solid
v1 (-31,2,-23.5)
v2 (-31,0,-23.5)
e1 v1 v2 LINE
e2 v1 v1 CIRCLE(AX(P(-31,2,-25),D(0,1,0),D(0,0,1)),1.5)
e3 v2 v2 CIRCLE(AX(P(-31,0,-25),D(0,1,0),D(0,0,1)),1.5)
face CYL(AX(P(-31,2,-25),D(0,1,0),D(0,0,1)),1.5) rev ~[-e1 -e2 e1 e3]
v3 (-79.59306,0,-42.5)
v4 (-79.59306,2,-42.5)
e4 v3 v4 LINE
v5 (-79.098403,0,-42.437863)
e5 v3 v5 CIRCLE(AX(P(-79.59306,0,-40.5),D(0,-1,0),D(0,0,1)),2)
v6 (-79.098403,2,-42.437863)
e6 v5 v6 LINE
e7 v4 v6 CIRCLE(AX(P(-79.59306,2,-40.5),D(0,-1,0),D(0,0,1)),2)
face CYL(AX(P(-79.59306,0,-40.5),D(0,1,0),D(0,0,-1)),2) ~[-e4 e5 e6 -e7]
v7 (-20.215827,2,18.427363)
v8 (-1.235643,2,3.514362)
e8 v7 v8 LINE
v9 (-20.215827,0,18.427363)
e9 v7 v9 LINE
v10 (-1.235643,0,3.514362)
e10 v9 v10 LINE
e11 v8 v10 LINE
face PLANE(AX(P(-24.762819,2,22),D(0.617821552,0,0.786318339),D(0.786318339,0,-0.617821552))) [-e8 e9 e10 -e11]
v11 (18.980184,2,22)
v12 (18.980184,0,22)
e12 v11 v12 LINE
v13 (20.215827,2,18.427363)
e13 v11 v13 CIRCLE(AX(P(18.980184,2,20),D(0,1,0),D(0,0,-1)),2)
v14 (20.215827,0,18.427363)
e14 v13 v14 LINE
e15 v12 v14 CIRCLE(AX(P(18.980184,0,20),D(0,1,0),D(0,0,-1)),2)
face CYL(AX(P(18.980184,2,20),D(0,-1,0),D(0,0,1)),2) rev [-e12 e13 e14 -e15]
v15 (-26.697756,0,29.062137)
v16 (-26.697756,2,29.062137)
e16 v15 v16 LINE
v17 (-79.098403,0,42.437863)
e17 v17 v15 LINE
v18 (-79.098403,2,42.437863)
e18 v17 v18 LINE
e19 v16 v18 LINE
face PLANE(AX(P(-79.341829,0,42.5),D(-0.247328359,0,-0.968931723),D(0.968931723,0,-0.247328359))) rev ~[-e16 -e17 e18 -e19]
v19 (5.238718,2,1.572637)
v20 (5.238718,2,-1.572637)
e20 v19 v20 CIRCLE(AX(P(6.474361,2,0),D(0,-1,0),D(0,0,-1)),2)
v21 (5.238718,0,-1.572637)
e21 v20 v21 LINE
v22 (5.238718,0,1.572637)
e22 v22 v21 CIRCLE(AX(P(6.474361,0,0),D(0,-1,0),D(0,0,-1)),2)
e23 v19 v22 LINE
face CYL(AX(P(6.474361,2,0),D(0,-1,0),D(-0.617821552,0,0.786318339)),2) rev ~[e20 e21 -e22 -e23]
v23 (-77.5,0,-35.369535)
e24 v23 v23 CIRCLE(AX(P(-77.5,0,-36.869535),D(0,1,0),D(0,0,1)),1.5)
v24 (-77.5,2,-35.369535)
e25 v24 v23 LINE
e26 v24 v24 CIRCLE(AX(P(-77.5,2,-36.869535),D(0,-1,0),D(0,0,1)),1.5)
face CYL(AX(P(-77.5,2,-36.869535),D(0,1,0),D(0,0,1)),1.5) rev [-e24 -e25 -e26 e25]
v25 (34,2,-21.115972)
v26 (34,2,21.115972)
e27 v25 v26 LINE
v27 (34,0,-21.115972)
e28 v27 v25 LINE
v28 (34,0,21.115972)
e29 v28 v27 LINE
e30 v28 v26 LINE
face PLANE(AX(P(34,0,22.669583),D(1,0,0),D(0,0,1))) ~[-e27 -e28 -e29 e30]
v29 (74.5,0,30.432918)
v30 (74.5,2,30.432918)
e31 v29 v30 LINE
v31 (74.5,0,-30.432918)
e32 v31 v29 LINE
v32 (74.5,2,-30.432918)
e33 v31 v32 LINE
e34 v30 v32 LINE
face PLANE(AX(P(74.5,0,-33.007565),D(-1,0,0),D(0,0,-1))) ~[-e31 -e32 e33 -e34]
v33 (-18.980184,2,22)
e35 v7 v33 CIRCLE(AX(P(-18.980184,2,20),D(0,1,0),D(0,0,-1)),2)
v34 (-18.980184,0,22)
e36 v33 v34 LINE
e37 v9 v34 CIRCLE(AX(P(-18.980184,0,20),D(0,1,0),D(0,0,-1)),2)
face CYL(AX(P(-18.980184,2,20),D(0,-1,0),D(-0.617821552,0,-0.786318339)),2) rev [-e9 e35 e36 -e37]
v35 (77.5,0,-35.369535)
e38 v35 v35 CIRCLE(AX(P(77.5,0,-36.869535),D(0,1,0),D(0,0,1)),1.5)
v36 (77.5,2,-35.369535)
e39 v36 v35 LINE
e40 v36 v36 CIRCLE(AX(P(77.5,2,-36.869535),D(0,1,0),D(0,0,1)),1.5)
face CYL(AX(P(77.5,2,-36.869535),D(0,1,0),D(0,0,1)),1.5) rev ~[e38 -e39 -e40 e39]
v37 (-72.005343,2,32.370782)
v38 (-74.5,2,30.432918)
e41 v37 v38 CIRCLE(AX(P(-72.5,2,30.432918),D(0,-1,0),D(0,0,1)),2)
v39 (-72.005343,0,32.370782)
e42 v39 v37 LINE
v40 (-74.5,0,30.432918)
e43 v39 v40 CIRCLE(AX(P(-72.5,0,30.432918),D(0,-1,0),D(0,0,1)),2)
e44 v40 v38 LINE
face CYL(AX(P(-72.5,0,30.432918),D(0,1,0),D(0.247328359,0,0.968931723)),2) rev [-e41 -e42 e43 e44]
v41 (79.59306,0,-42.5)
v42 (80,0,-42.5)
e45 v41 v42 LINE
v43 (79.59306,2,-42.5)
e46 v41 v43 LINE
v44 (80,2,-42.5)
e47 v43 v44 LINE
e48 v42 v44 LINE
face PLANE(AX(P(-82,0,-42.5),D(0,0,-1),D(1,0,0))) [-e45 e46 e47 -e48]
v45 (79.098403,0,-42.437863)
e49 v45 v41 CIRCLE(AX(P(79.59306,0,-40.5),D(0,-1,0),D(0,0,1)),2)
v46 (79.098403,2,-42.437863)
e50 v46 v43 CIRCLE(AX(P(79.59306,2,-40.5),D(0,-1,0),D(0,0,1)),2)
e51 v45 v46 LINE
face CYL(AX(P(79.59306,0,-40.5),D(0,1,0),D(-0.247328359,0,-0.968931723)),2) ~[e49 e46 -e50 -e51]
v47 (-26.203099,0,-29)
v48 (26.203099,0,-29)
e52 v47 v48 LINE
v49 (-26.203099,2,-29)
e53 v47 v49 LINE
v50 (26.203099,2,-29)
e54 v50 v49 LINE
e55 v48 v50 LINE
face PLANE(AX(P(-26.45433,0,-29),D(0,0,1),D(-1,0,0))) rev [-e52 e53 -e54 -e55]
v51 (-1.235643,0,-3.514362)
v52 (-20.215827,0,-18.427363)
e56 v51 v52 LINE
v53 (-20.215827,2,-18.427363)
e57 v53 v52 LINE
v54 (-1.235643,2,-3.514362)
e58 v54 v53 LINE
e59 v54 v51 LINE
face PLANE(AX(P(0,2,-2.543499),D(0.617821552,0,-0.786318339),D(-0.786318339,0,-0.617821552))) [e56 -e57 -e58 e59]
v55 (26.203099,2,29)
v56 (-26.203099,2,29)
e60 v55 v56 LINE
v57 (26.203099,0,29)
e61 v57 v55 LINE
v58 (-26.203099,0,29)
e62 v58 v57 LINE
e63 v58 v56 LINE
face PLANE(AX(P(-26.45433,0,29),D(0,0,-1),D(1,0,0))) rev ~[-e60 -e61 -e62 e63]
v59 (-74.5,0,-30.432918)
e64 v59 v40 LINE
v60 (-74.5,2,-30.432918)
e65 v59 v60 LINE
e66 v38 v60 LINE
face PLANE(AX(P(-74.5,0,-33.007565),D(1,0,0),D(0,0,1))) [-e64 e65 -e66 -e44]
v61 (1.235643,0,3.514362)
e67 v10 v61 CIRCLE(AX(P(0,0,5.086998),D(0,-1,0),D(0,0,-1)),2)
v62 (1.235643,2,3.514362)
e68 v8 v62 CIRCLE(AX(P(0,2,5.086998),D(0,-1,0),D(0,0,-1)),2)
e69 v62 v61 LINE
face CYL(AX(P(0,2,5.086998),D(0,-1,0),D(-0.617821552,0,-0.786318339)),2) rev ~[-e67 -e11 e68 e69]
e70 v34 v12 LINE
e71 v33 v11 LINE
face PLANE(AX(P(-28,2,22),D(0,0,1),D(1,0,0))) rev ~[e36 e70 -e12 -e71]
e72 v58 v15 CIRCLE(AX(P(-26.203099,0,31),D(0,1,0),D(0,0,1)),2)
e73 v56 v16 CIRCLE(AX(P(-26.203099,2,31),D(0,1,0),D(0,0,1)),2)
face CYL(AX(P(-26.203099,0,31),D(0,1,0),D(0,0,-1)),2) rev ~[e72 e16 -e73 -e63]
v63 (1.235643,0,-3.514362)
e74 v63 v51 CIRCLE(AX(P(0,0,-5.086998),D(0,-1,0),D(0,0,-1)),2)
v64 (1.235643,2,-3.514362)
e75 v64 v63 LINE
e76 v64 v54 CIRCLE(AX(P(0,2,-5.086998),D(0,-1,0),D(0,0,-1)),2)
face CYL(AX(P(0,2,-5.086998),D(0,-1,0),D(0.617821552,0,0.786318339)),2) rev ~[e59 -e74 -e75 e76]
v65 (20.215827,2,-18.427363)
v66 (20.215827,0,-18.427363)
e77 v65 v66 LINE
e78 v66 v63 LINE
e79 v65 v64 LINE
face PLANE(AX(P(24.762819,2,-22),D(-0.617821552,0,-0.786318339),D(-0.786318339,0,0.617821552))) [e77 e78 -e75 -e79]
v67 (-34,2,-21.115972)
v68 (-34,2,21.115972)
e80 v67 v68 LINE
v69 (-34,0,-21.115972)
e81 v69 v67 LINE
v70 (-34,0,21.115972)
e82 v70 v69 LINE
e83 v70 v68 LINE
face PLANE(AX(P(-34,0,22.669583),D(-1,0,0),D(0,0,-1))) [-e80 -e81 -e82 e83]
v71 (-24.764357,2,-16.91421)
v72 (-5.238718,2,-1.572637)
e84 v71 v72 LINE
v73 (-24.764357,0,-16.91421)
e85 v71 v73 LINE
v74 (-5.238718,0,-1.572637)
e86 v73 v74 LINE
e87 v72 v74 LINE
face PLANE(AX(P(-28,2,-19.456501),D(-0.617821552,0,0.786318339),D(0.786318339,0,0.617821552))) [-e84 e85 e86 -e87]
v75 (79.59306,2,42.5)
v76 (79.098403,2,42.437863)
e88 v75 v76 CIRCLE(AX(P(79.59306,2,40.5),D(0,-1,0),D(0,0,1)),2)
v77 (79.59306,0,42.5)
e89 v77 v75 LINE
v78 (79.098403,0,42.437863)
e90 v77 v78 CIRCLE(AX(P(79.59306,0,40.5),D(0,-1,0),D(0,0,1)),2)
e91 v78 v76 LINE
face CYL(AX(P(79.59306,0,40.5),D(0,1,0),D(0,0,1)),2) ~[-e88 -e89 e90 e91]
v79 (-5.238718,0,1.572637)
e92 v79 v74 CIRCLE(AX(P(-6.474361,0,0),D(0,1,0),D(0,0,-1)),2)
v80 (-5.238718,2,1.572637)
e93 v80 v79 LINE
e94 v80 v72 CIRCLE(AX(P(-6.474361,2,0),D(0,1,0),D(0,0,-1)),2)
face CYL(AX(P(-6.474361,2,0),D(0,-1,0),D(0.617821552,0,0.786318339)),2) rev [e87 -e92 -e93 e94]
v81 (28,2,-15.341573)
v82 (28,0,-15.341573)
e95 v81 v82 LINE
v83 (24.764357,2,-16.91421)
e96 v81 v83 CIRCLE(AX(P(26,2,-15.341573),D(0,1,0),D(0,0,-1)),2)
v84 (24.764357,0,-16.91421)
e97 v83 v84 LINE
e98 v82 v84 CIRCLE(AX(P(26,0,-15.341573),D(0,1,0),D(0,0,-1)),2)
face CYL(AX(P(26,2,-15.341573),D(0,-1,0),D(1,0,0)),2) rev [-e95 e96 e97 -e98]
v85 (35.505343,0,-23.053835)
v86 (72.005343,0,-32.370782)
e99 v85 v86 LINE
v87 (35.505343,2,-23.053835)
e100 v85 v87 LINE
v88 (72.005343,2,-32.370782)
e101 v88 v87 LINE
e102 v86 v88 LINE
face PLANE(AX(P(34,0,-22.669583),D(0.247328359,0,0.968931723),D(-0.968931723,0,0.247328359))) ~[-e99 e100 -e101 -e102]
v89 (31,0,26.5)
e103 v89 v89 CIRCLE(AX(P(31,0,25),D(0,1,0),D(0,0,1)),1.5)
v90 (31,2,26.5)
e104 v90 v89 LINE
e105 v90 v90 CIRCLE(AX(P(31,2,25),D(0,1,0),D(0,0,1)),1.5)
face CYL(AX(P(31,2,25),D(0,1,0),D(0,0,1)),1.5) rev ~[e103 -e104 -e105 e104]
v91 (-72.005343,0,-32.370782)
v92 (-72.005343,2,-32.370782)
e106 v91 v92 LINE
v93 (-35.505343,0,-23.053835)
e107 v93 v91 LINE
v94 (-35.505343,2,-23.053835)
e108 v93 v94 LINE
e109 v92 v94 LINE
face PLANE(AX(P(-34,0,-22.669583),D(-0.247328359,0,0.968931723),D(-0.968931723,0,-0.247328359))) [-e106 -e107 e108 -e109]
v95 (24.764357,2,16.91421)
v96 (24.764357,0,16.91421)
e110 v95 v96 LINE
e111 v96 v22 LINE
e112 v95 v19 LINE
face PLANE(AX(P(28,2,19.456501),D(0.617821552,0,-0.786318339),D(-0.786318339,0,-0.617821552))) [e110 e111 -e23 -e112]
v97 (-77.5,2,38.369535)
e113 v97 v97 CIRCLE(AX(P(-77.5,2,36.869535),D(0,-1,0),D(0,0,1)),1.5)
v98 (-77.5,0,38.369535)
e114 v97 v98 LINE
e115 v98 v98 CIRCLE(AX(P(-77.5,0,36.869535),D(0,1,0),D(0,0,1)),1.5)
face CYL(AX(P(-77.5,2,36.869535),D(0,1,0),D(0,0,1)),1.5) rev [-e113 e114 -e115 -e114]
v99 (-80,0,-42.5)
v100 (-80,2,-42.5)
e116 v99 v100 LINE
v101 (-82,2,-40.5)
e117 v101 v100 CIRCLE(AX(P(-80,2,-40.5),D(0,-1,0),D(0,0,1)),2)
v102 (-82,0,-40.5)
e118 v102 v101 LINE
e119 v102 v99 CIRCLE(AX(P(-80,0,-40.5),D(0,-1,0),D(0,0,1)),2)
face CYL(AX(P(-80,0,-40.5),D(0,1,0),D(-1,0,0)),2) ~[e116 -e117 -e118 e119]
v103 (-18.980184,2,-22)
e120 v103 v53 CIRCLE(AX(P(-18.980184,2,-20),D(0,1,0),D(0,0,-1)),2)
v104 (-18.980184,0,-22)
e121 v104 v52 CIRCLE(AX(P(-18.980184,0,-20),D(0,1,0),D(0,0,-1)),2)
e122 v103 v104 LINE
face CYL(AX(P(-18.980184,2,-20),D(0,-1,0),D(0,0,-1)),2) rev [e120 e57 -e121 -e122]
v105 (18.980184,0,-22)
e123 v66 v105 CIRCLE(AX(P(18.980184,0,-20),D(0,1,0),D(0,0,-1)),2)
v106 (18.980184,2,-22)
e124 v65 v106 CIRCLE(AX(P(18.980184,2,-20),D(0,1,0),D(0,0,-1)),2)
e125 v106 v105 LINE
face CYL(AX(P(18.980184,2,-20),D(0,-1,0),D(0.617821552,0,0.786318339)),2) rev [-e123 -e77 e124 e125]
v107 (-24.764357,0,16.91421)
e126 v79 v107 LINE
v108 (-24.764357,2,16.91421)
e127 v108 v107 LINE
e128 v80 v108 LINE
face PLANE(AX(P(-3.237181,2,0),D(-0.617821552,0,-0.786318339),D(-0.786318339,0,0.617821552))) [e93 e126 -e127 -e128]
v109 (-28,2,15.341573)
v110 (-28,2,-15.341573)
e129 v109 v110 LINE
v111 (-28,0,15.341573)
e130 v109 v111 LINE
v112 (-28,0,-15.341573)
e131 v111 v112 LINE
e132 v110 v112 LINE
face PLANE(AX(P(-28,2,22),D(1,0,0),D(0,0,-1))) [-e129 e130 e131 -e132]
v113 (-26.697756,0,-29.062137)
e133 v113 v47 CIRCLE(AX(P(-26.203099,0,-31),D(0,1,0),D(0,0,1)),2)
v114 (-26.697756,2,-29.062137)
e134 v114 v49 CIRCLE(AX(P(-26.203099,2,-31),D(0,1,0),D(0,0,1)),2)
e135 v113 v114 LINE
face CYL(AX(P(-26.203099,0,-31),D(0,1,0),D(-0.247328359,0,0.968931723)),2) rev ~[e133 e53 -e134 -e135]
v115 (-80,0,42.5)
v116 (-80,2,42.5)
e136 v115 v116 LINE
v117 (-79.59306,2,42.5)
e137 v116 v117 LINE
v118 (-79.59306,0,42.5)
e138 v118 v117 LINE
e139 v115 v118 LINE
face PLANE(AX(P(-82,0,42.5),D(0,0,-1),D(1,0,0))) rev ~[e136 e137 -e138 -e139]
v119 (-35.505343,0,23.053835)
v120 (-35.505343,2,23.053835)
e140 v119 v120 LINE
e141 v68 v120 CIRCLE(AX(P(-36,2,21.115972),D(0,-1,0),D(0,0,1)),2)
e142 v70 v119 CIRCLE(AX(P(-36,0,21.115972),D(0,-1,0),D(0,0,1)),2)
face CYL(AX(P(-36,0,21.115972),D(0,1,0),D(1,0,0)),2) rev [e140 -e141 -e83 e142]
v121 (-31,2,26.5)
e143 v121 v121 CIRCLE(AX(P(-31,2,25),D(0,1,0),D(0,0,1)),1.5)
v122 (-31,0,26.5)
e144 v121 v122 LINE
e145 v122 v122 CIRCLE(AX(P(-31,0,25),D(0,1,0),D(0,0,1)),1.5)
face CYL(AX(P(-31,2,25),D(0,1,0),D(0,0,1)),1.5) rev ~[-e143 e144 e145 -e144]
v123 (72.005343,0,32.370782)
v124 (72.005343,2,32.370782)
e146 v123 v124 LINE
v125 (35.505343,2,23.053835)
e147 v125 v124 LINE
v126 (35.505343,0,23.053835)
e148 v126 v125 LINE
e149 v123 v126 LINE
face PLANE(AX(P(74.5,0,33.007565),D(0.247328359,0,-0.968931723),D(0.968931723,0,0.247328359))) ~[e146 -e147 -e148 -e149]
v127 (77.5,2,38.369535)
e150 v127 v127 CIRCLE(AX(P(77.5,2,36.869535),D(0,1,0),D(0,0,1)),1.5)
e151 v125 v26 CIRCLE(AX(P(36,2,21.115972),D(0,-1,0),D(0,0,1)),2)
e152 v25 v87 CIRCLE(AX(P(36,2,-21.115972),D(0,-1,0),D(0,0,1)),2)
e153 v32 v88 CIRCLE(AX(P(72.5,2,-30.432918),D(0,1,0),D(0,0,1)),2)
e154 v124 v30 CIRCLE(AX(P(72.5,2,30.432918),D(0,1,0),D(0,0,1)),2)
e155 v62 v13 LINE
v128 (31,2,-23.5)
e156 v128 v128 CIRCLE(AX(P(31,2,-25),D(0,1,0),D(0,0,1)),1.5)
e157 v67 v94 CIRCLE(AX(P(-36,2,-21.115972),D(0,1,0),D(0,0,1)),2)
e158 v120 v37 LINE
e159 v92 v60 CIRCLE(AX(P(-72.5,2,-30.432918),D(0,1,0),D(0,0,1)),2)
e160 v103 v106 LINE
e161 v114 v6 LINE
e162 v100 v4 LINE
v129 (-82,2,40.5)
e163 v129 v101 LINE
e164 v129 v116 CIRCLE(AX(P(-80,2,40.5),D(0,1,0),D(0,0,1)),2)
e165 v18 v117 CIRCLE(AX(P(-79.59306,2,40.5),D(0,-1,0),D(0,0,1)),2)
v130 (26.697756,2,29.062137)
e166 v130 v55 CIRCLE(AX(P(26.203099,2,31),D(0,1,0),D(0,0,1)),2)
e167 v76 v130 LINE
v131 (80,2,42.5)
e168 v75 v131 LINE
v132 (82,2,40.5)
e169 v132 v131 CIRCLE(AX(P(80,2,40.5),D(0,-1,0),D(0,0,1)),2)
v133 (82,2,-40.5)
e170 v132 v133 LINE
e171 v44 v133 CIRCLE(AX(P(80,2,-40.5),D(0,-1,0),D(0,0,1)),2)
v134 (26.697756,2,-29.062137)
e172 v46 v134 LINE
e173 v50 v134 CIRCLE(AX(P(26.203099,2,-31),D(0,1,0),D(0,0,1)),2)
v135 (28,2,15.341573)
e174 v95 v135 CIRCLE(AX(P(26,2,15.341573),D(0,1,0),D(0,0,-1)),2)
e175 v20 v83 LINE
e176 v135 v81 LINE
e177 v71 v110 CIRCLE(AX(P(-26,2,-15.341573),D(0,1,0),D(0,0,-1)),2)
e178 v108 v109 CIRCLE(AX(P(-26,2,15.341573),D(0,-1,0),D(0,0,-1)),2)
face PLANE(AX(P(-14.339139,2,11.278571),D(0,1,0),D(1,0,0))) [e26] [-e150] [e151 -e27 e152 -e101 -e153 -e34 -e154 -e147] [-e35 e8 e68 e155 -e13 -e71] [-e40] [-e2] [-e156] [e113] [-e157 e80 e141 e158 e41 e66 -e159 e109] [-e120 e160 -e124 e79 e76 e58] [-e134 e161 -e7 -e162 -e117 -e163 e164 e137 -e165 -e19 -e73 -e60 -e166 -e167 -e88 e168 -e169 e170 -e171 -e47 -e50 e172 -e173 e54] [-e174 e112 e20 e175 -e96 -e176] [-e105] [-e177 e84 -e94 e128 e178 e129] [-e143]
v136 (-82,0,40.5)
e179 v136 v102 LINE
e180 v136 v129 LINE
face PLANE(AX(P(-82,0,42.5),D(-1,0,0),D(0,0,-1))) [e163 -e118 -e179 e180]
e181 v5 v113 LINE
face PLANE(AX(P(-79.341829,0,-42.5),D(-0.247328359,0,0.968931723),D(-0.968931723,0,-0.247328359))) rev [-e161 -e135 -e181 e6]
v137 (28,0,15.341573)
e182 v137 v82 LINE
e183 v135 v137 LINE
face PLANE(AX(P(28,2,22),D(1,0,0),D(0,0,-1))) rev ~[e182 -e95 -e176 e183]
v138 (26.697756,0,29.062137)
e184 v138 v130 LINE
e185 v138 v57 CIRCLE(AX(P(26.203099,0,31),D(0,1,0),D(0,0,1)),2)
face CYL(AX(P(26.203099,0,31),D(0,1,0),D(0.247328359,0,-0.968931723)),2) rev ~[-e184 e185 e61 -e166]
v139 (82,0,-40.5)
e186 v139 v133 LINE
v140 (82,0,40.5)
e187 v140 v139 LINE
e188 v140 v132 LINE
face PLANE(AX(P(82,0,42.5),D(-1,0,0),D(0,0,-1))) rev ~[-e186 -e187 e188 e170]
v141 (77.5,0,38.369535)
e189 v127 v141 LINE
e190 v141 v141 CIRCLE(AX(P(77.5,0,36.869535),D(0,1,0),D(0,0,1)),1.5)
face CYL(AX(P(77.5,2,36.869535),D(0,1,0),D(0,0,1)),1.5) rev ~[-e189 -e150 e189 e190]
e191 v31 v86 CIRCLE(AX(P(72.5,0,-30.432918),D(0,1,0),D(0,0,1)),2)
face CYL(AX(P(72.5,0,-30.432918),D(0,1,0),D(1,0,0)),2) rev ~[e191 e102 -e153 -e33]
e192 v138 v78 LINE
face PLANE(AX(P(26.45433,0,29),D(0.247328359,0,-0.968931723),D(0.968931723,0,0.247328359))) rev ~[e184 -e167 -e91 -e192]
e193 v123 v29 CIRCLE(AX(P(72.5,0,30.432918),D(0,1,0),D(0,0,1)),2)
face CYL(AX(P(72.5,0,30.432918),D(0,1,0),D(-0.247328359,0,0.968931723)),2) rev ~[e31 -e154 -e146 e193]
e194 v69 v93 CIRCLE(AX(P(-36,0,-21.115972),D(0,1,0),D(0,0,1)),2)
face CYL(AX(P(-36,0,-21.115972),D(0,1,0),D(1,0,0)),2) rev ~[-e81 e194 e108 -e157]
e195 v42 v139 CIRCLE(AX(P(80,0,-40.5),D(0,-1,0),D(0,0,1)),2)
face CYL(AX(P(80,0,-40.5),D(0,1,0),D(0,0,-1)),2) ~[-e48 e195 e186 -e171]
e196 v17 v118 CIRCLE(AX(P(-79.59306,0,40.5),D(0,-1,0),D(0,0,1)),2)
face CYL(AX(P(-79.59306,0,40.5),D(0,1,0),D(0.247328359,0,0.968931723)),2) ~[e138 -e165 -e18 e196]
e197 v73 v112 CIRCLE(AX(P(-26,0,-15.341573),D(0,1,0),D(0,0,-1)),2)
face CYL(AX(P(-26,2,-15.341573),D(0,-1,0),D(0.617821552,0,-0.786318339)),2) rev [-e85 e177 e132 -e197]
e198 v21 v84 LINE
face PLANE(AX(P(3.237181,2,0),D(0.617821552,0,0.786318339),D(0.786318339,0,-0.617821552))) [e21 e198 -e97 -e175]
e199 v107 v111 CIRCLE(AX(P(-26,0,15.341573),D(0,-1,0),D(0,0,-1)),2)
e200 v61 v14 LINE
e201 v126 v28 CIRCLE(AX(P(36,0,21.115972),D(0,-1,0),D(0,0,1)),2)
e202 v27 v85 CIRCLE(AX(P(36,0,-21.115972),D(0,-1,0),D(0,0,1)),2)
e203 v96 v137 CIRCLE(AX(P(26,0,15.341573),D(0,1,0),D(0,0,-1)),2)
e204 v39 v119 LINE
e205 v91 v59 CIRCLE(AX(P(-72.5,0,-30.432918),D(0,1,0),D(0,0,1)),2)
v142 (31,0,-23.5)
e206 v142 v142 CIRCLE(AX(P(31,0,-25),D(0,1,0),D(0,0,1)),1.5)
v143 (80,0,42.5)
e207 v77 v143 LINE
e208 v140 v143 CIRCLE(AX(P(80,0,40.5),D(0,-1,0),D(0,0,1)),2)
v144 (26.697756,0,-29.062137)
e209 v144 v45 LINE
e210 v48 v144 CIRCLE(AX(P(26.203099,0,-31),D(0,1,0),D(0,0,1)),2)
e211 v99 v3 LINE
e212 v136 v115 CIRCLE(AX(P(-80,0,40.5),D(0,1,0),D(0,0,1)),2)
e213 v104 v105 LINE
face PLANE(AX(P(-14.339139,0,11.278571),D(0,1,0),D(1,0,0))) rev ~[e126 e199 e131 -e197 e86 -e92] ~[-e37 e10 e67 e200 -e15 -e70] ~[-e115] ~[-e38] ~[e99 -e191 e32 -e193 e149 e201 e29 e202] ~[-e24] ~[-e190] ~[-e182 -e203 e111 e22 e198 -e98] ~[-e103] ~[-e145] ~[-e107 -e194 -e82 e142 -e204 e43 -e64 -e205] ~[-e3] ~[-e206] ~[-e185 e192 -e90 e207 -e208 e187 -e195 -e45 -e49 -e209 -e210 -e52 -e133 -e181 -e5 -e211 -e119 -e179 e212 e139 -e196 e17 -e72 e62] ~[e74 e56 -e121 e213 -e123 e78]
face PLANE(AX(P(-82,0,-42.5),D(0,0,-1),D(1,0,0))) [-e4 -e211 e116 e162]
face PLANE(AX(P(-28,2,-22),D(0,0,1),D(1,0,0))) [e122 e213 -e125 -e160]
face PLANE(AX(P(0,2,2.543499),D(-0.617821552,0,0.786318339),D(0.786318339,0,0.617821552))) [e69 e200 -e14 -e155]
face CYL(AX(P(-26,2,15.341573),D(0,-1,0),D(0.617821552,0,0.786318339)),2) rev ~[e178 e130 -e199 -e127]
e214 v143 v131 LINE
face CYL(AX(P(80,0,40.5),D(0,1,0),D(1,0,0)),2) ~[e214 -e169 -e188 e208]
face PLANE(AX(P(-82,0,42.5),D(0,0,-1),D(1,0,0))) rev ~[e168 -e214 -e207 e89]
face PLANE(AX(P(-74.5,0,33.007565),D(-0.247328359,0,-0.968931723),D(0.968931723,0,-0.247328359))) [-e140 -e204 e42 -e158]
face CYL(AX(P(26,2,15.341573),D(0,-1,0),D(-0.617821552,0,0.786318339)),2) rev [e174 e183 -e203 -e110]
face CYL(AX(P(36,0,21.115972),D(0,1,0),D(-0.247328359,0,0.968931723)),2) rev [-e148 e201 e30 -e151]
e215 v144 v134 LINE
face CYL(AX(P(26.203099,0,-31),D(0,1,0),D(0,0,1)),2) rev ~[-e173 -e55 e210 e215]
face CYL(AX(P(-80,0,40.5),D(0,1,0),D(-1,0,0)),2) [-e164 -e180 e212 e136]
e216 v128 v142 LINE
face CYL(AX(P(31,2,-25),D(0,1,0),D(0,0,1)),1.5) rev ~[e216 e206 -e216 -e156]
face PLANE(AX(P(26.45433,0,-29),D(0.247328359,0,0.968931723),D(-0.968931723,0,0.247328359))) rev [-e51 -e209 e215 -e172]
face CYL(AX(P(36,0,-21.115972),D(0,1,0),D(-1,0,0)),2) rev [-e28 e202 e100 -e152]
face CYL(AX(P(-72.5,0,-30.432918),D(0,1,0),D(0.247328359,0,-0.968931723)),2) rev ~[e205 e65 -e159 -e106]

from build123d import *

# Parameters (mm, degrees)
SKETCH_1_W          = 164
SKETCH_1_H          = 85
EXTRUDE_1_DEPTH     = 2
SKETCH_2_R          = 1.5
CUT_EXTRUDE_1_DEPTH = 2
SKETCH_4_W          = 56
SKETCH_4_H          = 44
CUT_EXTRUDE_3_DEPTH = 10
EXTRUDE_2_DEPTH     = 2
SKETCH_9_R          = 1.5
CUT_EXTRUDE_6_DEPTH = 10
CUT_EXTRUDE_7_DEPTH = 10
CUT_EXTRUDE_8_DEPTH = 10
FILLET_3_R          = 2
FILLET_4_R          = 2


with BuildPart() as part:
    # 草图1 → 凸台-拉伸1 (new body)
    with BuildSketch(Plane(origin=(0, 0, 0), x_dir=(1, 0, 0), z_dir=(0, 1, 0))):
        Rectangle(SKETCH_1_W, SKETCH_1_H)
    extrude(amount=EXTRUDE_1_DEPTH)

    # 草图2 → 切除-拉伸1 (cut)
    with BuildSketch(Plane(origin=(0, 2, 0), x_dir=(1, 0, 0), z_dir=(0, 1, 0))):
        with Locations(Location((31, 25, 0), (0, 0, 270))):
            Circle(SKETCH_2_R)
        with Locations(Location((-31, 25, 0), (0, 0, 270))):
            Circle(SKETCH_2_R)
        with Locations(Location((-31, -25, 0), (0, 0, 270))):
            Circle(SKETCH_2_R)
        with Locations(Location((31, -25, 0), (0, 0, 270))):
            Circle(SKETCH_2_R)
    extrude(amount=-CUT_EXTRUDE_1_DEPTH, mode=Mode.SUBTRACT)

    # 草图4 → 切除-拉伸3 (cut)
    with BuildSketch(Plane(origin=(0, 2, 0), x_dir=(1, 0, 0), z_dir=(0, 1, 0))):
        Rectangle(SKETCH_4_W, SKETCH_4_H)
    extrude(amount=-CUT_EXTRUDE_3_DEPTH, mode=Mode.SUBTRACT)

    # 草图7 → 凸台-拉伸2 (add)
    with BuildSketch(Plane(origin=(0, 2, 0), x_dir=(1, 0, 0), z_dir=(0, 1, 0))):
        Polygon((0, -2.543499116), (-3.237180694, 0), (-28, -19.456500884), (-28, -22), (-24.762819306, -22), align=None)
        Polygon((0, 2.543499116), (-3.237180694, 0), (0, -2.543499116), (3.237180694, 0), align=None)
        Polygon((24.762819306, 22), (0, 2.543499116), (3.237180694, 0), (28, 19.456500884), (28, 22), align=None)
        Polygon((3.237180694, 0), (0, -2.543499116), (24.762819306, -22), (28, -22), (28, -19.456500884), align=None)
        Polygon((-28, 22), (-28, 19.456500884), (-3.237180694, 0), (0, 2.543499116), (-24.762819306, 22), align=None)
    extrude(amount=-EXTRUDE_2_DEPTH)

    # 草图9 → 切除-拉伸6 (cut)
    with BuildSketch(Plane(origin=(0, 2, 0), x_dir=(1, 0, 0), z_dir=(0, 1, 0))):
        with Locations(Location((77.5, -36.869534675, 0), (0, 0, 270))):
            Circle(SKETCH_9_R)
        with Locations(Location((77.5, 36.869534675, 0), (0, 0, 270))):
            Circle(SKETCH_9_R)
    cut_extrude_6 = extrude(amount=-CUT_EXTRUDE_6_DEPTH, mode=Mode.SUBTRACT)

    # 镜向3: 切除-拉伸6 across plane
    add(cut_extrude_6.mirror(Plane(origin=(0, 0, 0), x_dir=(0, 0, 1), z_dir=(1, 0, 0))), mode=Mode.SUBTRACT)

    # 草图11 → 切除-拉伸7 (cut)
    with BuildSketch(Plane.XZ):
        Polygon((-74.5, 33.007564849), (-34, 22.669583035), (-34, -22.669583035), (-74.5, -33.007564849), align=None)
    cut_extrude_7 = extrude(amount=-CUT_EXTRUDE_7_DEPTH, mode=Mode.SUBTRACT)

    # 镜向4: 切除-拉伸7 across plane
    add(cut_extrude_7.mirror(Plane(origin=(0, 0, 0), x_dir=(0, 0, 1), z_dir=(1, 0, 0))), mode=Mode.SUBTRACT)

    # 草图12 → 切除-拉伸8 (cut)
    with BuildSketch(Plane.XZ):
        Polygon((-79.341828688, 42.5), (-26.454329961, 29), (26.454329961, 29), (79.341828688, 42.5), align=None)
    cut_extrude_8 = extrude(amount=-CUT_EXTRUDE_8_DEPTH, mode=Mode.SUBTRACT)

    # 镜向5: 切除-拉伸8 across plane
    add(cut_extrude_8.mirror(Plane.XY), mode=Mode.SUBTRACT)

    # 圆角3
    fillet_3_edges = [part.edges().sort_by_distance(p)[0] for p in [
        (-74.5, 1, -33.007564849),
        (-74.5, 1, 33.007564849),
        (-34, 1, 22.669583035),
        (-34, 1, -22.669583035),
        (74.5, 1, 33.007564849),
        (74.5, 1, -33.007564849),
        (34, 1, -22.669583035),
        (34, 1, 22.669583035),
        (-28, 1, 19.456500884),
        (-3.237180694, 1, 0),
        (-28, 1, -19.456500884),
        (-24.762819306, 1, -22),
        (0, 1, -2.543499116),
        (24.762819306, 1, -22),
        (28, 1, -19.456500884),
        (3.237180694, 1, 0),
        (28, 1, 19.456500884),
        (24.762819306, 1, 22),
        (0, 1, 2.543499116),
        (-24.762819306, 1, 22),
    ]]
    fillet(fillet_3_edges, radius=FILLET_3_R)

    # 圆角4
    fillet_4_edges = [part.edges().sort_by_distance(p)[0] for p in [
        (-79.341828688, 1, 42.5),
        (79.341828688, 1, 42.5),
        (26.454329961, 1, 29),
        (-26.454329961, 1, 29),
        (79.341828688, 1, -42.5),
        (-79.341828688, 1, -42.5),
        (-26.454329961, 1, -29),
        (26.454329961, 1, -29),
        (82, 1, 42.5),
        (-82, 1, 42.5),
        (-82, 1, -42.5),
        (82, 1, -42.5),
    ]]
    fillet(fillet_4_edges, radius=FILLET_4_R)


solid = part.part
